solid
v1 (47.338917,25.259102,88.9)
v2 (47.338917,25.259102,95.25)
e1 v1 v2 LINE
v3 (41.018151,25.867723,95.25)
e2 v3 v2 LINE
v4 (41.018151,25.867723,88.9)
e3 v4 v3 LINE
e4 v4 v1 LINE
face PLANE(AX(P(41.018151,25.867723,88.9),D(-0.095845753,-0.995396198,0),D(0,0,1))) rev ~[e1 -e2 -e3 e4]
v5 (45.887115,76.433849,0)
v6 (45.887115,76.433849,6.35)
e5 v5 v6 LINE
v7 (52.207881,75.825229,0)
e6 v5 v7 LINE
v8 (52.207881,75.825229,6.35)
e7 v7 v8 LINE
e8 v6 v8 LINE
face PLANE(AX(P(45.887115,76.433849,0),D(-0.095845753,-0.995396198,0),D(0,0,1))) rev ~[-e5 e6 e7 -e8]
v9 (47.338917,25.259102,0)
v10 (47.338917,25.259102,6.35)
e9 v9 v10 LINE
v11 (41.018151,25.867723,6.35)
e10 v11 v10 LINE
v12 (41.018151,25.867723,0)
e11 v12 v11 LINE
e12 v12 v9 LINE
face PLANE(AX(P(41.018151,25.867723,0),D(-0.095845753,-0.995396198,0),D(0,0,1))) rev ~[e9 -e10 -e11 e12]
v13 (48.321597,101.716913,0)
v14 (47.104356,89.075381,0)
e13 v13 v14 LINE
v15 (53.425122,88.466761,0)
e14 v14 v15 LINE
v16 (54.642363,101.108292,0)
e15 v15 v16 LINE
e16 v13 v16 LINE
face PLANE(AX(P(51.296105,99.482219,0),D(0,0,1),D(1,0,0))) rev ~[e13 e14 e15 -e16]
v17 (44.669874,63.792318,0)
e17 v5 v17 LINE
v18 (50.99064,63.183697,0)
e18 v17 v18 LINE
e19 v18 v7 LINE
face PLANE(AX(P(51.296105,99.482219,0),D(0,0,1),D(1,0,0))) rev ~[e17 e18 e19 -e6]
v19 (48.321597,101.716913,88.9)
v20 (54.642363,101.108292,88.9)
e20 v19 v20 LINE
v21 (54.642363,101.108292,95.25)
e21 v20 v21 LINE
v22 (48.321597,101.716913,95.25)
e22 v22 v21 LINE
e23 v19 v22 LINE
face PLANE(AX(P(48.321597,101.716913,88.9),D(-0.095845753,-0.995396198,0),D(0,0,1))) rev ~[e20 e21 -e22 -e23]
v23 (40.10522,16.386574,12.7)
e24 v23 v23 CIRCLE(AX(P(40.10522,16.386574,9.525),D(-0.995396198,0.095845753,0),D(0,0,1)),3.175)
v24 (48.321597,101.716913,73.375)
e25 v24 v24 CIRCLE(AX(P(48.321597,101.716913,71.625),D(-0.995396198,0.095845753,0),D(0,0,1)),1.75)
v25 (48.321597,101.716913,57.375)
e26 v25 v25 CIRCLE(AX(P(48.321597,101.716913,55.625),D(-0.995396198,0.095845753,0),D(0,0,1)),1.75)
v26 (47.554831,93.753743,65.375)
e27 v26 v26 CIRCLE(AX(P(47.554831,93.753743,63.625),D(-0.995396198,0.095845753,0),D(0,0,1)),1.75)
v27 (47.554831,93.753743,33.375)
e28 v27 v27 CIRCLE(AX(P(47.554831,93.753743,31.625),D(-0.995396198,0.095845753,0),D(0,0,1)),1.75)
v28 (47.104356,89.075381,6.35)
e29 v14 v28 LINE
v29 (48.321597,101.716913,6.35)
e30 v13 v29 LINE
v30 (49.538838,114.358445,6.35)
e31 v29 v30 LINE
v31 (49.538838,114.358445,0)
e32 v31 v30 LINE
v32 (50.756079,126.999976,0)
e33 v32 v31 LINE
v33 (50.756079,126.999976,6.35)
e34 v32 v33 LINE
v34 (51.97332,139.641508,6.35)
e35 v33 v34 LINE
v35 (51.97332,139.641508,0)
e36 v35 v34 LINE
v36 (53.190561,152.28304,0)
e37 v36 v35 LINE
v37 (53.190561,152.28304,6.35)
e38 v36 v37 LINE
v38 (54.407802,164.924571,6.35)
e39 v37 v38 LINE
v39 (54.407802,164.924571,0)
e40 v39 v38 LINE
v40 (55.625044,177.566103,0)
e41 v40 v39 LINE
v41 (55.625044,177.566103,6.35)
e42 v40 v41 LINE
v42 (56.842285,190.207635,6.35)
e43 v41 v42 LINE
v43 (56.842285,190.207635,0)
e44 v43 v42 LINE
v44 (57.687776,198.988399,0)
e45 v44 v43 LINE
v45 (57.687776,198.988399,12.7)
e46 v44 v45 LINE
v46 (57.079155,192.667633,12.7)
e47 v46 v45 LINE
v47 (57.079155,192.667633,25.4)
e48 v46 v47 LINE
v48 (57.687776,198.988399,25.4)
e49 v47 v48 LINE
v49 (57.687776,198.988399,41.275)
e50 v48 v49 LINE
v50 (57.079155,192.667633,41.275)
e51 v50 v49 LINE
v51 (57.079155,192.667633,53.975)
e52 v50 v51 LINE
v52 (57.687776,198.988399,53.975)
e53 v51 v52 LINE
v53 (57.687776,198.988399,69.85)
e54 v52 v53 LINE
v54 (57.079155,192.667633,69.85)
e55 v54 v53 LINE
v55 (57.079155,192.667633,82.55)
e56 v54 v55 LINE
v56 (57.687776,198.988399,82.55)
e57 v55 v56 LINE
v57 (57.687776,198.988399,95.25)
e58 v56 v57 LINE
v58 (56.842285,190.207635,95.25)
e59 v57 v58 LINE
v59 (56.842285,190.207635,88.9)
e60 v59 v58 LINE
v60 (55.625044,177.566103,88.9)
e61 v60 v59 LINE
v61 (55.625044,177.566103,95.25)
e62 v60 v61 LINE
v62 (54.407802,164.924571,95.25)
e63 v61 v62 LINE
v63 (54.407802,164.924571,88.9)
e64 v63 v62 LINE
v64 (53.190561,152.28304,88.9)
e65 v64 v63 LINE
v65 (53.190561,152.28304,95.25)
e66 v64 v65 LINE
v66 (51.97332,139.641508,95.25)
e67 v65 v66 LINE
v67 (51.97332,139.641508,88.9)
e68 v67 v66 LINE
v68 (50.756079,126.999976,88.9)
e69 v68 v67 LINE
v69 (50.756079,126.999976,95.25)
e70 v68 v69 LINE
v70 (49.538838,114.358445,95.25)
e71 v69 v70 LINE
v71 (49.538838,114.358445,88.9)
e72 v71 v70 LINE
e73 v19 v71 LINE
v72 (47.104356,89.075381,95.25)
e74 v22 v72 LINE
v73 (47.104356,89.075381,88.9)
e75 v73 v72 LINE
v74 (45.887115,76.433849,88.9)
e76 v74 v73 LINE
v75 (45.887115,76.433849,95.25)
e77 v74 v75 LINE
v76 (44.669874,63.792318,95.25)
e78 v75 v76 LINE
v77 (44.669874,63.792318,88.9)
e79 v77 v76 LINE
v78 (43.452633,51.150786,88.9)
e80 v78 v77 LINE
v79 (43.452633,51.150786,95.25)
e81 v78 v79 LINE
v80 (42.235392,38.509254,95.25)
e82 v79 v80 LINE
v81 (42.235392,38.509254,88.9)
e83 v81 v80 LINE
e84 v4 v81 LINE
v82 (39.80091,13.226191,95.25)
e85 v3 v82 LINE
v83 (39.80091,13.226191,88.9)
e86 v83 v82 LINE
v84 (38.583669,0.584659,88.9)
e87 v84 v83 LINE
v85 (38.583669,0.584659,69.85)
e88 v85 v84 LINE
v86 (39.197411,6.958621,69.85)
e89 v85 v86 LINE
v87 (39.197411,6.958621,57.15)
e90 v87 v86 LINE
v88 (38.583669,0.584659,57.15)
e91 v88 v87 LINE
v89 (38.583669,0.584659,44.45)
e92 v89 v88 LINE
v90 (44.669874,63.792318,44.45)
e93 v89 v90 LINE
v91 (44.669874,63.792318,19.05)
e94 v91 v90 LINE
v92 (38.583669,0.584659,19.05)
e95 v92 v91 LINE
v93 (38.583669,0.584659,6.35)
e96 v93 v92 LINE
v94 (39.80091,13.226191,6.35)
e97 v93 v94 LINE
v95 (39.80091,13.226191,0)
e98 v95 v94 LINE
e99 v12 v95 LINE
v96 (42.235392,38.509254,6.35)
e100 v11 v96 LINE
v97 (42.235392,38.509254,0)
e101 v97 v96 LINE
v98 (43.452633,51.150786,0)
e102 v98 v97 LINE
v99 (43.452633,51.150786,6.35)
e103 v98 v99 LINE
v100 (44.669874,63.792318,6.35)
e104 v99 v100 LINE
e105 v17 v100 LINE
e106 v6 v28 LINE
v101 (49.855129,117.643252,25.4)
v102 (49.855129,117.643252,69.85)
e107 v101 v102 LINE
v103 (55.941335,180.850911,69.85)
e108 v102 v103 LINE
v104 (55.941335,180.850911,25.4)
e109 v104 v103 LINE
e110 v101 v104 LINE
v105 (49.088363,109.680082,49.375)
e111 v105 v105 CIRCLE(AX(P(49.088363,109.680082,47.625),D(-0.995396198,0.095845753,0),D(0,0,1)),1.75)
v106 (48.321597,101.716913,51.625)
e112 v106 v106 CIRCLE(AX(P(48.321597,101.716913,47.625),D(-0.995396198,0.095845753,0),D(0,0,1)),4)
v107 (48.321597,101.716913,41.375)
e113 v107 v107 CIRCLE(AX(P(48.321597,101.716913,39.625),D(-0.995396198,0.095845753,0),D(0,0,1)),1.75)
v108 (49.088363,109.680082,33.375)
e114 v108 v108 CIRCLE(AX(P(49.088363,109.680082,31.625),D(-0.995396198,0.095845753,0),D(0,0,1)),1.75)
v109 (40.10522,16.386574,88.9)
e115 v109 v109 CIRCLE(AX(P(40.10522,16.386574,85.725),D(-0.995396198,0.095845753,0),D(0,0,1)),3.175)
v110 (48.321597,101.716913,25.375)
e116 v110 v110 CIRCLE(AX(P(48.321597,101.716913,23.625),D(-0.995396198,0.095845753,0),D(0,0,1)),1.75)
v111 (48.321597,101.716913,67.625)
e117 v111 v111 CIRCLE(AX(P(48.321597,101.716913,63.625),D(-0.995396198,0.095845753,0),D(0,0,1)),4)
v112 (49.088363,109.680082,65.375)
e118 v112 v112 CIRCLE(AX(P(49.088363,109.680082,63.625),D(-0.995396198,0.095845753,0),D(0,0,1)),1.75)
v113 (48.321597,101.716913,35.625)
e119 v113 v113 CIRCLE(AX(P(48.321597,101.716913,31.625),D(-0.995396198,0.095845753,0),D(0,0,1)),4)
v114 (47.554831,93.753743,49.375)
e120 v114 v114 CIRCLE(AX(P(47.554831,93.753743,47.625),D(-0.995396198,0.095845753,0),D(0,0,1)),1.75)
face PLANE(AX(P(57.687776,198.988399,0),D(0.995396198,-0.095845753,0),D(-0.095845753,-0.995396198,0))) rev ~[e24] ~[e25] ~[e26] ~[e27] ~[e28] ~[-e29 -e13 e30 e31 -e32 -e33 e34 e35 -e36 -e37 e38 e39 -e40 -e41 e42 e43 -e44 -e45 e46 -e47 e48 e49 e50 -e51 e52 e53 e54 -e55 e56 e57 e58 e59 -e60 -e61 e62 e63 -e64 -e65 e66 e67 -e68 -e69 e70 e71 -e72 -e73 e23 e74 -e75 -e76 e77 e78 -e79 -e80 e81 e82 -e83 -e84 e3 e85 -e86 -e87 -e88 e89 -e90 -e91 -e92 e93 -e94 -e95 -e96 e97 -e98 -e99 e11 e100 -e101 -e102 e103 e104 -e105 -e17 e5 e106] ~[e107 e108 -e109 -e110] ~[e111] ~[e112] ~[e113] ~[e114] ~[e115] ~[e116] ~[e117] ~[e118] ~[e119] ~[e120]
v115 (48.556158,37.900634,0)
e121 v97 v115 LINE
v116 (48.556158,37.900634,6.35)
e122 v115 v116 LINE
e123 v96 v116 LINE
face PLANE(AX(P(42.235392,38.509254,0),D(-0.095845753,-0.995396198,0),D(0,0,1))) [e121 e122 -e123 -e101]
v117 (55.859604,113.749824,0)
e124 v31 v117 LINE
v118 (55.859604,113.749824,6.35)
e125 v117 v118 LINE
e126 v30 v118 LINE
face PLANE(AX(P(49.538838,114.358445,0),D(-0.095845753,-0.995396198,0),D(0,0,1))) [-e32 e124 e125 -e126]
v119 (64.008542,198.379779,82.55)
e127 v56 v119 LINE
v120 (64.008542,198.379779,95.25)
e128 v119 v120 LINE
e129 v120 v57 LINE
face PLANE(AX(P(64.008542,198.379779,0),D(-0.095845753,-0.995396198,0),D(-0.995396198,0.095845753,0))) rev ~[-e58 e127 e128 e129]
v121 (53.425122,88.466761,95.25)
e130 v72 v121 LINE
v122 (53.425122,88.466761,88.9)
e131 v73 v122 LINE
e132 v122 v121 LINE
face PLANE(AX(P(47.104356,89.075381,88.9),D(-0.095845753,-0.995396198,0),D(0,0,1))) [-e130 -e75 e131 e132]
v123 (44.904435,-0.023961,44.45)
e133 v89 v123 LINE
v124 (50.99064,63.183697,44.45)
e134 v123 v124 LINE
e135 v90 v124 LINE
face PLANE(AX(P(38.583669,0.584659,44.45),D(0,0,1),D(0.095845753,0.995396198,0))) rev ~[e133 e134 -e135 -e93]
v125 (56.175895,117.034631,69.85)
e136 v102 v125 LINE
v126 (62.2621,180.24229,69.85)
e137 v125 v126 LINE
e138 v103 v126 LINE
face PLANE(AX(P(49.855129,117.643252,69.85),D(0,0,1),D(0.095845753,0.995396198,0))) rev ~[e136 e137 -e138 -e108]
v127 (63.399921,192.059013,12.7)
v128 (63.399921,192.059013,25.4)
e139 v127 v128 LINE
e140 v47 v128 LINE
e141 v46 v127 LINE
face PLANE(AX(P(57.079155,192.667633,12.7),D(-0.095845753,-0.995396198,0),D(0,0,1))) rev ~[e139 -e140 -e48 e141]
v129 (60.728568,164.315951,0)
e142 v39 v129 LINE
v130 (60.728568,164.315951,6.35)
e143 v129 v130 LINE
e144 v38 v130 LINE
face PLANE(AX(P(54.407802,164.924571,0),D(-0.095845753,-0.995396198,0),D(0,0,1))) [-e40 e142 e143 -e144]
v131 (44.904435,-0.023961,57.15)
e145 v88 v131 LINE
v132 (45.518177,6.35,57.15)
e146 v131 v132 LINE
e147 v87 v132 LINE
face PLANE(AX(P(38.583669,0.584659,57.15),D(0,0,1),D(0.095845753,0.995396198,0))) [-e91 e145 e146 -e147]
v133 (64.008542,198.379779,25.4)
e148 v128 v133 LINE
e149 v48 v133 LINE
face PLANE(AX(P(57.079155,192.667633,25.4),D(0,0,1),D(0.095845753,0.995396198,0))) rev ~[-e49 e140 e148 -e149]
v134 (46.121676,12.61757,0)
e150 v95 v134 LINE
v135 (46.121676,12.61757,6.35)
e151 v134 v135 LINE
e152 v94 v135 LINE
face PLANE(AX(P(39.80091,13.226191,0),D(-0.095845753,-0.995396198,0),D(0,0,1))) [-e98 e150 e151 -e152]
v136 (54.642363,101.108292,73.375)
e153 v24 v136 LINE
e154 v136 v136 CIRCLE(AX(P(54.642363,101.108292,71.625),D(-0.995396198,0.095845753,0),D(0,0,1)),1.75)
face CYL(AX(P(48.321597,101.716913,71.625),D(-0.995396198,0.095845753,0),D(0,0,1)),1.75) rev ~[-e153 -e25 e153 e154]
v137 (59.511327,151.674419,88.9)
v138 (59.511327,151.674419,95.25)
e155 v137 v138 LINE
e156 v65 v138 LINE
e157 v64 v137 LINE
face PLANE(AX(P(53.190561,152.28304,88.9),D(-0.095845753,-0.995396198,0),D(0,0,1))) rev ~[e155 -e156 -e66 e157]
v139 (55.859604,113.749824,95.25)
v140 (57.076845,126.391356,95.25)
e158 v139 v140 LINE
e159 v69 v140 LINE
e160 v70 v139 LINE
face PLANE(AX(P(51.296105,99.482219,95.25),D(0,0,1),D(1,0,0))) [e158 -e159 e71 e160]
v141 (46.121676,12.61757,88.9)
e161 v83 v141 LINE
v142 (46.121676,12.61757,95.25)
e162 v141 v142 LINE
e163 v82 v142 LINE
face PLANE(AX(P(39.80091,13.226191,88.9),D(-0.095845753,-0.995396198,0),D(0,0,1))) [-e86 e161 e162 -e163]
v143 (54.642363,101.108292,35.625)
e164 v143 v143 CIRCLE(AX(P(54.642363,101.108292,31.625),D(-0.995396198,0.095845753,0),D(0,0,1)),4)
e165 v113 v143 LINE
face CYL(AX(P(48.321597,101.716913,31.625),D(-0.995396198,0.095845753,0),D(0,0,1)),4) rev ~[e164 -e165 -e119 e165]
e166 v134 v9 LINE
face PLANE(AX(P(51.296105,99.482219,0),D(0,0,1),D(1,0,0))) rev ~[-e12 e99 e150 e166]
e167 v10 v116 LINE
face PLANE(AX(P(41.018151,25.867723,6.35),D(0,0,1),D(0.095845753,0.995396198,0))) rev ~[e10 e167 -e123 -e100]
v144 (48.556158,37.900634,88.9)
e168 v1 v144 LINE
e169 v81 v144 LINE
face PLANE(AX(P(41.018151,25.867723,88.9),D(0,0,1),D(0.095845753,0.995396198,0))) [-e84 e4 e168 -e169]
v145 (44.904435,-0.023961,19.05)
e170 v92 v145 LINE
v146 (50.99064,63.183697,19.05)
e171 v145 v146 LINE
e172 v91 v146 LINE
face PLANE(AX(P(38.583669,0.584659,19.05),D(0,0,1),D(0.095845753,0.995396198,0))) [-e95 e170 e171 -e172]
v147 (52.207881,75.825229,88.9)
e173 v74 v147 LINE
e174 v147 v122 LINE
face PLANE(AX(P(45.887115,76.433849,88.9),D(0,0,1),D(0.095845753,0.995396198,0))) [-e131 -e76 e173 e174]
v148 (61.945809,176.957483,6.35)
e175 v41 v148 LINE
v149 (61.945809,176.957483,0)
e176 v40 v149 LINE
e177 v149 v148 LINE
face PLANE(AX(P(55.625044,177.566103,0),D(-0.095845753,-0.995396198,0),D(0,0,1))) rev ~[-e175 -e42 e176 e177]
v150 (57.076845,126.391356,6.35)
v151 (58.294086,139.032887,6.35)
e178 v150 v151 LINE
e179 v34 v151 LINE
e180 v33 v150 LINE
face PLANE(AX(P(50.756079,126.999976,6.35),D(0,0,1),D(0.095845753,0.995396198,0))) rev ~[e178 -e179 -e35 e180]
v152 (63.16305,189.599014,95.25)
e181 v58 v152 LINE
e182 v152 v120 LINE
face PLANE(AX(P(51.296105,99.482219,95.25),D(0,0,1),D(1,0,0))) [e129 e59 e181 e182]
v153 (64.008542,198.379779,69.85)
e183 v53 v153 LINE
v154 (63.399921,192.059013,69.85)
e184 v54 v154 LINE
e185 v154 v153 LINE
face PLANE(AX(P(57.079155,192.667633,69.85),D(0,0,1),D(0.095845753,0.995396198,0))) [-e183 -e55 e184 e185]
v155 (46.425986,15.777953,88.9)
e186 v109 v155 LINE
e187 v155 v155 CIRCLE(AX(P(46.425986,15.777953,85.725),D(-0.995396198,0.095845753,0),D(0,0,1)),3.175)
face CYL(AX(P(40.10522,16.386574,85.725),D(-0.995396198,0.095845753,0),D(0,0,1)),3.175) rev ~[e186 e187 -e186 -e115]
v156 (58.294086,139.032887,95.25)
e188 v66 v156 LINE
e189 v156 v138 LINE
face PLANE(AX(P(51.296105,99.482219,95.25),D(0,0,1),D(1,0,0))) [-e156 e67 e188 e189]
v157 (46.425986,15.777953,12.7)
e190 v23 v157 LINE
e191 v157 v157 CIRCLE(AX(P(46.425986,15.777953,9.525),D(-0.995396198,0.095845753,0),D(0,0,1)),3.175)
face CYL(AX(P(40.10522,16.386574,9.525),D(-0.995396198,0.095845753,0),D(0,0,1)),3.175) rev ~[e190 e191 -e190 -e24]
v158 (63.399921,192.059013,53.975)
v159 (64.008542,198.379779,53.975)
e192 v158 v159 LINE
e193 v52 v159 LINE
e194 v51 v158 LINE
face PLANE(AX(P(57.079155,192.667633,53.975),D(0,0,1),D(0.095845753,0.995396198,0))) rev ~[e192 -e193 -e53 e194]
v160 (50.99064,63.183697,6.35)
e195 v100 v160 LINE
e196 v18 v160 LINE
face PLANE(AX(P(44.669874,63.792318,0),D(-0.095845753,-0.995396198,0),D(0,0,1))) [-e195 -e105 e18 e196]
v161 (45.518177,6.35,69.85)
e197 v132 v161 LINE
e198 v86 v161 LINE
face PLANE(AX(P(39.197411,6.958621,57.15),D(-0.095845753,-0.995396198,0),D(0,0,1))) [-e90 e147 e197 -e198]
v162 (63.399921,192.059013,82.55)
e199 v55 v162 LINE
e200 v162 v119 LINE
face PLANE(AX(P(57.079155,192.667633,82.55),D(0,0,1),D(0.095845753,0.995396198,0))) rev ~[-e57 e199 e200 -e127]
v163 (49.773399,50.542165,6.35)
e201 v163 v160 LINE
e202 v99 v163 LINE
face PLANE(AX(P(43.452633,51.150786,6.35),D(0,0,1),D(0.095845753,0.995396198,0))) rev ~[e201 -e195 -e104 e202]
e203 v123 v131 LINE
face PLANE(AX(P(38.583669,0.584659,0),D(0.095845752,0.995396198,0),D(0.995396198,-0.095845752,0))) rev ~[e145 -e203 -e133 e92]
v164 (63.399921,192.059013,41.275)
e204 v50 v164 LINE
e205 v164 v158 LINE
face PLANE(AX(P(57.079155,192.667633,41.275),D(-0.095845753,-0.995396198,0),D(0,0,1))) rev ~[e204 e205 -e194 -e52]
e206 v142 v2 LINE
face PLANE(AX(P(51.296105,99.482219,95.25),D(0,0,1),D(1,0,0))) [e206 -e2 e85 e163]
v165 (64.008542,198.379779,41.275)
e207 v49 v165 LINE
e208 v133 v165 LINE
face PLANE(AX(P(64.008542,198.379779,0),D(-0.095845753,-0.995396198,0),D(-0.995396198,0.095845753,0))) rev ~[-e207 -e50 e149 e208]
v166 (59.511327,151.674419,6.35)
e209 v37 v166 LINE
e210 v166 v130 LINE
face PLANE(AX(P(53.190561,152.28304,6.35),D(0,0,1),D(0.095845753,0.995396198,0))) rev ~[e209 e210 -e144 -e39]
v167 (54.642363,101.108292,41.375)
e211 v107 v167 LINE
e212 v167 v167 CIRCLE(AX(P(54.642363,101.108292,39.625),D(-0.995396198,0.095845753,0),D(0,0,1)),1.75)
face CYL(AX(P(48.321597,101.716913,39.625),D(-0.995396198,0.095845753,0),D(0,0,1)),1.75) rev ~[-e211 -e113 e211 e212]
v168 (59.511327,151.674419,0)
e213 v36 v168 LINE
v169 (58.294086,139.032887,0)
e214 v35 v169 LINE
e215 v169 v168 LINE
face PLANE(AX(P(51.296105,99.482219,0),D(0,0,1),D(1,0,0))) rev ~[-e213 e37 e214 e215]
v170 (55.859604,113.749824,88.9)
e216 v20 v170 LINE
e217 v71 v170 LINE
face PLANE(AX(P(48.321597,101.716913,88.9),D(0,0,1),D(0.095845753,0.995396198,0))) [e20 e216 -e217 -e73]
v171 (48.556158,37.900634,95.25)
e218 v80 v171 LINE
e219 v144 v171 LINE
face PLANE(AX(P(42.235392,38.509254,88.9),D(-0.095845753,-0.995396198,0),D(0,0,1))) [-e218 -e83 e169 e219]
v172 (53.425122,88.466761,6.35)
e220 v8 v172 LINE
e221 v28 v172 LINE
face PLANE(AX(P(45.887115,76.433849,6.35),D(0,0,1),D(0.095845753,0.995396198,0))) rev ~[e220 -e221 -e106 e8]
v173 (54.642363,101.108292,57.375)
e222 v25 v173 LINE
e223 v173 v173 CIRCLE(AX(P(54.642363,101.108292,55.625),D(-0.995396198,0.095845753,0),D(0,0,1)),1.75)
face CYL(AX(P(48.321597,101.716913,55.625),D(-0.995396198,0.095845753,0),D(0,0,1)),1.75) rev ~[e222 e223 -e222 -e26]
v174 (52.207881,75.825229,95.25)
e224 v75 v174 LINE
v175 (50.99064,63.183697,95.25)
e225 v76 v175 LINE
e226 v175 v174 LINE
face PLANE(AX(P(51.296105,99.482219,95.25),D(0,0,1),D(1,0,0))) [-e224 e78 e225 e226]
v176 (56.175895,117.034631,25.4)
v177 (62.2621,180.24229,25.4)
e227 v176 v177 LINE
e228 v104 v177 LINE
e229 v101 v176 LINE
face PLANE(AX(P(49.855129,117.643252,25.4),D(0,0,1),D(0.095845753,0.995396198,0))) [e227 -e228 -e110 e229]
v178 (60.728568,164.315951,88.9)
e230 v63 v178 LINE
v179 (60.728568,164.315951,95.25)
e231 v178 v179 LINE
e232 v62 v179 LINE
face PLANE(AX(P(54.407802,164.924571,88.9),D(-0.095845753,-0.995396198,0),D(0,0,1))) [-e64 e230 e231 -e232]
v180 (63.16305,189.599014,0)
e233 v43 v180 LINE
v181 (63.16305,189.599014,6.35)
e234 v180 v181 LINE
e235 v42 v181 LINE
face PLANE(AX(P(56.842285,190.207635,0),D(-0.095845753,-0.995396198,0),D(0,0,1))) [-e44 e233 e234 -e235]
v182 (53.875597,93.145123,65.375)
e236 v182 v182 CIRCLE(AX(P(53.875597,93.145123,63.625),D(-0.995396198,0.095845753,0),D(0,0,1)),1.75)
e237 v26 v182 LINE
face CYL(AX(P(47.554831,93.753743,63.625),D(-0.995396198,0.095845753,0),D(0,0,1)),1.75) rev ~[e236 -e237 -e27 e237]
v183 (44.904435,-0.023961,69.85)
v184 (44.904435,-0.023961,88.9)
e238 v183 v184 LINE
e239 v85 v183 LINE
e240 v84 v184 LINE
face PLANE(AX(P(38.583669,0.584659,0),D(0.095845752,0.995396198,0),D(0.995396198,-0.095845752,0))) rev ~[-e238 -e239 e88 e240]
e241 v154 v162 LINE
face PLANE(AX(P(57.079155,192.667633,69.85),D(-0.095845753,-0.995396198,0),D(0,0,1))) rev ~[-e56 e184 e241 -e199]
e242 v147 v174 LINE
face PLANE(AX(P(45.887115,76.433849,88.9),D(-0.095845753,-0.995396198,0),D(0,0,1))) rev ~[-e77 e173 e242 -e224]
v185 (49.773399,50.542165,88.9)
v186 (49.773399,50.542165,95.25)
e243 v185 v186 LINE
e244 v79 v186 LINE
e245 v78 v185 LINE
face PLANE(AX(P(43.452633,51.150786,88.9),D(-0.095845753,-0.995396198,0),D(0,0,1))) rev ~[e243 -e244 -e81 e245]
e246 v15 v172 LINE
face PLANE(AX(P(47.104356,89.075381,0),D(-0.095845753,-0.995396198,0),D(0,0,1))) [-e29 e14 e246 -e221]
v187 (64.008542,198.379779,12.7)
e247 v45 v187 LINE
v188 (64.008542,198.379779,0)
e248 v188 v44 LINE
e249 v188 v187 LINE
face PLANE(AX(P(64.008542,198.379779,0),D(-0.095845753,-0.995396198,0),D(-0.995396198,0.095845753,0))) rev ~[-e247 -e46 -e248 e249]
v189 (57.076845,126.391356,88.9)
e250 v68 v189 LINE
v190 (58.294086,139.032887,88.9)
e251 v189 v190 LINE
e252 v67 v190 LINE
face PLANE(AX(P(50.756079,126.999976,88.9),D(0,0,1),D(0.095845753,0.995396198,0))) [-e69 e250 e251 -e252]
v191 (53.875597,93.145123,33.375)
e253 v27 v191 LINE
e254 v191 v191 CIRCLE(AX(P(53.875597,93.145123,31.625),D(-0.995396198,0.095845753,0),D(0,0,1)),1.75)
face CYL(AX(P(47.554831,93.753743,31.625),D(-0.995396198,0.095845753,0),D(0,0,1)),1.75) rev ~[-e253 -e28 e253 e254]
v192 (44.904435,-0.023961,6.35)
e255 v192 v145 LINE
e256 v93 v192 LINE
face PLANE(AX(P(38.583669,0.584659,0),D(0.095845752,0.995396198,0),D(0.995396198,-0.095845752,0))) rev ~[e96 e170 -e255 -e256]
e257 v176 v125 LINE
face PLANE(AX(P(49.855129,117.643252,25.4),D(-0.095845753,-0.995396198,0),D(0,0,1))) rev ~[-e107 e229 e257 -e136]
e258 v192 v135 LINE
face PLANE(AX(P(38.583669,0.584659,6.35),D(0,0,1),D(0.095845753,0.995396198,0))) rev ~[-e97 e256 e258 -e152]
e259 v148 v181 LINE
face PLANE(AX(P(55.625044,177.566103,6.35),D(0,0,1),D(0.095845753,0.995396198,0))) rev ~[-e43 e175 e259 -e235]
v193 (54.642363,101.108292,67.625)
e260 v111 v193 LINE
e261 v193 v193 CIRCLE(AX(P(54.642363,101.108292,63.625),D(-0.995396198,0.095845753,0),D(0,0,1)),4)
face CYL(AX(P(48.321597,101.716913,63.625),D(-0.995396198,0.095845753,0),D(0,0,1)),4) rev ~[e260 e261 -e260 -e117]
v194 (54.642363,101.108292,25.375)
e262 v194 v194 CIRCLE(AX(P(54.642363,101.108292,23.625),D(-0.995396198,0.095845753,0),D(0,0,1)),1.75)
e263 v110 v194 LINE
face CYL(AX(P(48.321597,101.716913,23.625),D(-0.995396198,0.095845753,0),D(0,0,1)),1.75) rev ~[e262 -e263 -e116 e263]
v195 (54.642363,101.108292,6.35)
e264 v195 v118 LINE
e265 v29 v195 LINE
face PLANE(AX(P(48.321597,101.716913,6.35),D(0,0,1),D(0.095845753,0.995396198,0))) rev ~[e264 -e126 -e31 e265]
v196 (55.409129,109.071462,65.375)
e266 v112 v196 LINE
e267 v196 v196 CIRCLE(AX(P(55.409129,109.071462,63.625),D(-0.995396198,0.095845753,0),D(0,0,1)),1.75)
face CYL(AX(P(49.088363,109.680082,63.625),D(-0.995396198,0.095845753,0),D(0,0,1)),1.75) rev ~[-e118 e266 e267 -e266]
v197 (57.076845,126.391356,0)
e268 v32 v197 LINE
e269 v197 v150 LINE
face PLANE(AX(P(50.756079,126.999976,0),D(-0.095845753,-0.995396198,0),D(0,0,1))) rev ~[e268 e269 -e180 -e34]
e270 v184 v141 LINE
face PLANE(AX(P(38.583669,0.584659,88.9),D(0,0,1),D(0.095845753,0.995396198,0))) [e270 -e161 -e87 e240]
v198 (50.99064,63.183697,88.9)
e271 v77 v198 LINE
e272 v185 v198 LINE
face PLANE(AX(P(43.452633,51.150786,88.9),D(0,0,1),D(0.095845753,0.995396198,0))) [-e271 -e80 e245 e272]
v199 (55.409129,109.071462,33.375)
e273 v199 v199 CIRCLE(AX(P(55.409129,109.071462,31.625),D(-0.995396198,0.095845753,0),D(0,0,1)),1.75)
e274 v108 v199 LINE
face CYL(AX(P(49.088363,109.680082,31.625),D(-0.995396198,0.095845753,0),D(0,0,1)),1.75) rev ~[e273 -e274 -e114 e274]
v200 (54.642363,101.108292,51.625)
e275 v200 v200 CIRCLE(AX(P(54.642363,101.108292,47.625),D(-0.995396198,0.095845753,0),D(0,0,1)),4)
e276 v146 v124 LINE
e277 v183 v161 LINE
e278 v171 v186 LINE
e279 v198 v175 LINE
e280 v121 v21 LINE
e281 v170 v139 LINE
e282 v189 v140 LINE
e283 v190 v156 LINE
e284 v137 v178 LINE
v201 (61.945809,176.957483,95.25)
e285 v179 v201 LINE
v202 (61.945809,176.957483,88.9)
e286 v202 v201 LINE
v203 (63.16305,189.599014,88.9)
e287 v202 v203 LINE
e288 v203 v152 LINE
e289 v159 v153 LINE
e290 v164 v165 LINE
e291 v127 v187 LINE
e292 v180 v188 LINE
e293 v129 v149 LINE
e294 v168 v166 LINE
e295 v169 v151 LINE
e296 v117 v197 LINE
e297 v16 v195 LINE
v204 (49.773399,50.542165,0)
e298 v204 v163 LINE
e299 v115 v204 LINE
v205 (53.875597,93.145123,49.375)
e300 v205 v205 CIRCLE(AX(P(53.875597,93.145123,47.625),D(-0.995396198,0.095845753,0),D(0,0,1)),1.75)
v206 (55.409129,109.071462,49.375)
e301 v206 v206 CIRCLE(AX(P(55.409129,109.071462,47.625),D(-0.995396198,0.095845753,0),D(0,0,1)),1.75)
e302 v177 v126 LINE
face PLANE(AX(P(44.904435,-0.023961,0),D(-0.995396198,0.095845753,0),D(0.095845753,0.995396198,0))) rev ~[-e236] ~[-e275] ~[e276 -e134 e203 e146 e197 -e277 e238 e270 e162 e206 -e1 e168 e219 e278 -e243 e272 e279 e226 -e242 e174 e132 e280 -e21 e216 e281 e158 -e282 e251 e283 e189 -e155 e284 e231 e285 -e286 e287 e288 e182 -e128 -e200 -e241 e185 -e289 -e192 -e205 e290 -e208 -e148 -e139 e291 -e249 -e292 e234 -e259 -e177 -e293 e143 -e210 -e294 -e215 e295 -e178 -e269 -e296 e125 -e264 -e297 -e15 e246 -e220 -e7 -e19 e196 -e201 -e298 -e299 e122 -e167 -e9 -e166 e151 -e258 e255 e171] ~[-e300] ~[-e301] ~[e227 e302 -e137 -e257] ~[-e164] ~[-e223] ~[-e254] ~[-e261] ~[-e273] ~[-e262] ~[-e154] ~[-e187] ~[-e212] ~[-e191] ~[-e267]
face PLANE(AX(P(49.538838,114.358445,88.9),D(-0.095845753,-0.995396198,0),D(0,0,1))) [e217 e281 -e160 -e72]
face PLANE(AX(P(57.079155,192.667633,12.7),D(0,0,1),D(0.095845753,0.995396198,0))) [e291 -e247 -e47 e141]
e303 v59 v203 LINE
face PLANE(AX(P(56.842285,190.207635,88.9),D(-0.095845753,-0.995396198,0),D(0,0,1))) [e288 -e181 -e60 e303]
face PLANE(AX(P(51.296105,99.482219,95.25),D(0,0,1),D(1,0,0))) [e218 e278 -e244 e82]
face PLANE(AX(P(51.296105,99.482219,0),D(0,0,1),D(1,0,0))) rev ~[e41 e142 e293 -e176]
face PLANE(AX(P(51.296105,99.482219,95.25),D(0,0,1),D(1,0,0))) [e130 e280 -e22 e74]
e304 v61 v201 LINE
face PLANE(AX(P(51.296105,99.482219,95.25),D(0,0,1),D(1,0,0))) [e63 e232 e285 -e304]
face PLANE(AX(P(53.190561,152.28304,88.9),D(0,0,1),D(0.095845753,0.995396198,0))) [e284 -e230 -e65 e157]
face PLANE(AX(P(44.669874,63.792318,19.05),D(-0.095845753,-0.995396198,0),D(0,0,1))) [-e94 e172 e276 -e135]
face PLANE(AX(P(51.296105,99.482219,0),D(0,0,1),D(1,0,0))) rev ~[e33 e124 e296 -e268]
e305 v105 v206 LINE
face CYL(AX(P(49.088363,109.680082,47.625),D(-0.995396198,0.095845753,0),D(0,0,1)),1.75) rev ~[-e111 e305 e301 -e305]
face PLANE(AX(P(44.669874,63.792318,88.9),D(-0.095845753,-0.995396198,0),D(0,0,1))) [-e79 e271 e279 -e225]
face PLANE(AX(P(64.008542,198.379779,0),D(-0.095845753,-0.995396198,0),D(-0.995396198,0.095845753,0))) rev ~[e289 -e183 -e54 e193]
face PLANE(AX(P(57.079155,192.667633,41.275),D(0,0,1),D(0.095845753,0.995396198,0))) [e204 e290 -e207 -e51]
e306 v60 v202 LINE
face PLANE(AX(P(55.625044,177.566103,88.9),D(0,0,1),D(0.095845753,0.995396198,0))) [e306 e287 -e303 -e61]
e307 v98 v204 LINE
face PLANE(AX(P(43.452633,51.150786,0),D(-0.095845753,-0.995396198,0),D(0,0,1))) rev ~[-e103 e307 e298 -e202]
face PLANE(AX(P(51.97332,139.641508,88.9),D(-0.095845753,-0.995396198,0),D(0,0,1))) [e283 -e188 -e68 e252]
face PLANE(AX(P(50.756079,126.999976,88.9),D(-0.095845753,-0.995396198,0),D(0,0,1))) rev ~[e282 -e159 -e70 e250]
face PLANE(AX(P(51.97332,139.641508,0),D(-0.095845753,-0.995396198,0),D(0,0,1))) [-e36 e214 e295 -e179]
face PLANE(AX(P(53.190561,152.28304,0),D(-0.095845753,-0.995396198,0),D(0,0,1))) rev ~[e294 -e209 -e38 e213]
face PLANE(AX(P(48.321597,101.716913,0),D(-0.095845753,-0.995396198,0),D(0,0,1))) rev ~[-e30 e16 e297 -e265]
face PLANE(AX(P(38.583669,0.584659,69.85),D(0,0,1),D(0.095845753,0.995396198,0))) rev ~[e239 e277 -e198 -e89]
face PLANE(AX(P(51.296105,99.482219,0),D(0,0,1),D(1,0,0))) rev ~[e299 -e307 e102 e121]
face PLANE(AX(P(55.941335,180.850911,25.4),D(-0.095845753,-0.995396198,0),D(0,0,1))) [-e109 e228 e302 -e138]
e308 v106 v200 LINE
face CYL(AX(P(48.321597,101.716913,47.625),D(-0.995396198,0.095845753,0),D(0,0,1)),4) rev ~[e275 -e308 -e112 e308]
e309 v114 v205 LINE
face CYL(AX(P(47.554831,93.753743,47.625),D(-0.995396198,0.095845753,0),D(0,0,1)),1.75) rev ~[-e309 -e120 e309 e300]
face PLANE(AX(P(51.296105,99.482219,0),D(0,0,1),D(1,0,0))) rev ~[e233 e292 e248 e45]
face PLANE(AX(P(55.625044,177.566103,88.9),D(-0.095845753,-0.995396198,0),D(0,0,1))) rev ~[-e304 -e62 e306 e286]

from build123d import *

# Parameters (mm, degrees)
BOSS_EXTRUDE1_DEPTH = 95.25
SKETCH3_R           = 3.175
CUT_EXTRUDE1_DEPTH  = 26.366155757
SKETCH4_R           = 4
SKETCH4_R_2         = 1.75
CUT_EXTRUDE2_DEPTH  = 26.366155757
LPATTERN1_COUNT     = 2
LPATTERN1_PITCH     = 16
LPATTERN1_COL_COUNT = 2
LPATTERN1_COL_PITCH = 16
SKETCH5_W           = 44.45
SKETCH5_H           = 63.5
CUT_EXTRUDE3_DEPTH  = 26.366155757
SKETCH6_W           = 25.4
SKETCH6_H           = 63.5
CUT_EXTRUDE4_DEPTH  = 26.366155757
SKETCH8_W           = 6.35
SKETCH8_H           = 12.7
CUT_EXTRUDE6_DEPTH  = 26.366155757
LPATTERN2_COUNT     = 18
LPATTERN2_PITCH     = 25.4
SKETCH9_W           = 12.7
SKETCH9_H           = 6.403441613
CUT_EXTRUDE7_DEPTH  = 26.366155757
SKETCH10_W          = 12.7
SKETCH10_H          = 6.35
CUT_EXTRUDE8_DEPTH  = 26.366155757


with BuildPart() as part:
    # Sketch2 → Boss-Extrude1 (new body)
    with BuildSketch(Plane.XY):
        Polygon((38.583668647, 0.58465909), (44.904434507, -0.023961438), (64.008541785, 198.379778502), (57.687775925, 198.988399031), align=None)
    extrude(amount=BOSS_EXTRUDE1_DEPTH)

    # Sketch3 → Cut-Extrude1 (cut, through all)
    with BuildSketch(Plane(origin=(38.173444207, -3.675684609, 0), x_dir=(0, 0, 1), z_dir=(-0.995396198, 0.095845753, 0))):
        with Locations((9.525, 20.155048192)):
            Circle(SKETCH3_R)
        with Locations((85.725, 20.155048192)):
            Circle(SKETCH3_R)
    extrude(amount=-CUT_EXTRUDE1_DEPTH, mode=Mode.SUBTRACT)

    # Sketch4 → Cut-Extrude2 (cut, through all)
    with BuildSketch(Plane(origin=(38.173444207, -3.675684609, 0), x_dir=(0, 0, 1), z_dir=(-0.995396198, 0.095845753, 0))):
        with Locations((47.625, 105.880048192)):
            Circle(SKETCH4_R)
        with Locations((47.625, 113.880048192)):
            Circle(SKETCH4_R_2)
        with Locations((55.625, 105.880048192)):
            Circle(SKETCH4_R_2)
        with Locations((47.625, 97.880048192)):
            Circle(SKETCH4_R_2)
        with Locations((39.625, 105.880048192)):
            Circle(SKETCH4_R_2)
    cut_extrude2 = extrude(amount=-CUT_EXTRUDE2_DEPTH, mode=Mode.SUBTRACT)

    # LPattern1: Cut-Extrude2 ×2
    with Locations(*[(0, 0, i * LPATTERN1_PITCH) for i in range(1, LPATTERN1_COUNT)]):
        add(cut_extrude2, mode=Mode.SUBTRACT)

    # LPattern1 col: Cut-Extrude2 ×2
    with Locations(*[(0, 0, -i * LPATTERN1_COL_PITCH) for i in range(1, LPATTERN1_COL_COUNT)]):
        add(cut_extrude2, mode=Mode.SUBTRACT)

    # Sketch5 → Cut-Extrude3 (cut, through all)
    with BuildSketch(Plane(origin=(38.173444207, -3.675684609, 0), x_dir=(0, 0, 1), z_dir=(-0.995396198, 0.095845753, 0))):
        with Locations((47.625, 153.630048192)):
            Rectangle(SKETCH5_W, SKETCH5_H)
    extrude(amount=-CUT_EXTRUDE3_DEPTH, mode=Mode.SUBTRACT)

    # Sketch6 → Cut-Extrude4 (cut, through all)
    with BuildSketch(Plane(origin=(38.173444207, -3.675684609, 0), x_dir=(0, 0, 1), z_dir=(-0.995396198, 0.095845753, 0))):
        with Locations((31.75, 36.030048192)):
            Rectangle(SKETCH6_W, SKETCH6_H)
    extrude(amount=-CUT_EXTRUDE4_DEPTH, mode=Mode.SUBTRACT)

    # Sketch8 → Cut-Extrude6 (cut, through all)
    with BuildSketch(Plane(origin=(38.173444207, -3.675684609, 0), x_dir=(0, 0, 1), z_dir=(-0.995396198, 0.095845753, 0))):
        with Locations((3.175, 10.630048192)):
            Rectangle(SKETCH8_W, SKETCH8_H)
        with Locations((92.075, 10.630048192)):
            Rectangle(SKETCH8_W, SKETCH8_H)
    cut_extrude6 = extrude(amount=-CUT_EXTRUDE6_DEPTH, mode=Mode.SUBTRACT)

    # LPattern2: Cut-Extrude6 ×18
    with Locations(*[Vector(0.095845753, 0.995396198, 0) * (i * LPATTERN2_PITCH) for i in range(1, LPATTERN2_COUNT)]):
        add(cut_extrude6, mode=Mode.SUBTRACT)

    # Sketch9 → Cut-Extrude7 (cut, through all)
    with BuildSketch(Plane(origin=(38.173444207, -3.675684609, 0), x_dir=(0, 0, 1), z_dir=(-0.995396198, 0.095845753, 0))):
        with Locations((63.5, 7.481768999)):
            Rectangle(SKETCH9_W, SKETCH9_H)
    extrude(amount=-CUT_EXTRUDE7_DEPTH, mode=Mode.SUBTRACT)

    # Sketch10 → Cut-Extrude8 (cut, through all)
    with BuildSketch(Plane(origin=(38.173444207, -3.675684609, 0), x_dir=(0, 0, 1), z_dir=(-0.995396198, 0.095845753, 0))):
        with Locations((19.05, 200.426424209)):
            Rectangle(SKETCH10_W, SKETCH10_H)
        with Locations((47.625, 200.426424209)):
            Rectangle(SKETCH10_W, SKETCH10_H)
        with Locations((76.2, 200.426424209)):
            Rectangle(SKETCH10_W, SKETCH10_H)
    extrude(amount=-CUT_EXTRUDE8_DEPTH, mode=Mode.SUBTRACT)


solid = part.part
